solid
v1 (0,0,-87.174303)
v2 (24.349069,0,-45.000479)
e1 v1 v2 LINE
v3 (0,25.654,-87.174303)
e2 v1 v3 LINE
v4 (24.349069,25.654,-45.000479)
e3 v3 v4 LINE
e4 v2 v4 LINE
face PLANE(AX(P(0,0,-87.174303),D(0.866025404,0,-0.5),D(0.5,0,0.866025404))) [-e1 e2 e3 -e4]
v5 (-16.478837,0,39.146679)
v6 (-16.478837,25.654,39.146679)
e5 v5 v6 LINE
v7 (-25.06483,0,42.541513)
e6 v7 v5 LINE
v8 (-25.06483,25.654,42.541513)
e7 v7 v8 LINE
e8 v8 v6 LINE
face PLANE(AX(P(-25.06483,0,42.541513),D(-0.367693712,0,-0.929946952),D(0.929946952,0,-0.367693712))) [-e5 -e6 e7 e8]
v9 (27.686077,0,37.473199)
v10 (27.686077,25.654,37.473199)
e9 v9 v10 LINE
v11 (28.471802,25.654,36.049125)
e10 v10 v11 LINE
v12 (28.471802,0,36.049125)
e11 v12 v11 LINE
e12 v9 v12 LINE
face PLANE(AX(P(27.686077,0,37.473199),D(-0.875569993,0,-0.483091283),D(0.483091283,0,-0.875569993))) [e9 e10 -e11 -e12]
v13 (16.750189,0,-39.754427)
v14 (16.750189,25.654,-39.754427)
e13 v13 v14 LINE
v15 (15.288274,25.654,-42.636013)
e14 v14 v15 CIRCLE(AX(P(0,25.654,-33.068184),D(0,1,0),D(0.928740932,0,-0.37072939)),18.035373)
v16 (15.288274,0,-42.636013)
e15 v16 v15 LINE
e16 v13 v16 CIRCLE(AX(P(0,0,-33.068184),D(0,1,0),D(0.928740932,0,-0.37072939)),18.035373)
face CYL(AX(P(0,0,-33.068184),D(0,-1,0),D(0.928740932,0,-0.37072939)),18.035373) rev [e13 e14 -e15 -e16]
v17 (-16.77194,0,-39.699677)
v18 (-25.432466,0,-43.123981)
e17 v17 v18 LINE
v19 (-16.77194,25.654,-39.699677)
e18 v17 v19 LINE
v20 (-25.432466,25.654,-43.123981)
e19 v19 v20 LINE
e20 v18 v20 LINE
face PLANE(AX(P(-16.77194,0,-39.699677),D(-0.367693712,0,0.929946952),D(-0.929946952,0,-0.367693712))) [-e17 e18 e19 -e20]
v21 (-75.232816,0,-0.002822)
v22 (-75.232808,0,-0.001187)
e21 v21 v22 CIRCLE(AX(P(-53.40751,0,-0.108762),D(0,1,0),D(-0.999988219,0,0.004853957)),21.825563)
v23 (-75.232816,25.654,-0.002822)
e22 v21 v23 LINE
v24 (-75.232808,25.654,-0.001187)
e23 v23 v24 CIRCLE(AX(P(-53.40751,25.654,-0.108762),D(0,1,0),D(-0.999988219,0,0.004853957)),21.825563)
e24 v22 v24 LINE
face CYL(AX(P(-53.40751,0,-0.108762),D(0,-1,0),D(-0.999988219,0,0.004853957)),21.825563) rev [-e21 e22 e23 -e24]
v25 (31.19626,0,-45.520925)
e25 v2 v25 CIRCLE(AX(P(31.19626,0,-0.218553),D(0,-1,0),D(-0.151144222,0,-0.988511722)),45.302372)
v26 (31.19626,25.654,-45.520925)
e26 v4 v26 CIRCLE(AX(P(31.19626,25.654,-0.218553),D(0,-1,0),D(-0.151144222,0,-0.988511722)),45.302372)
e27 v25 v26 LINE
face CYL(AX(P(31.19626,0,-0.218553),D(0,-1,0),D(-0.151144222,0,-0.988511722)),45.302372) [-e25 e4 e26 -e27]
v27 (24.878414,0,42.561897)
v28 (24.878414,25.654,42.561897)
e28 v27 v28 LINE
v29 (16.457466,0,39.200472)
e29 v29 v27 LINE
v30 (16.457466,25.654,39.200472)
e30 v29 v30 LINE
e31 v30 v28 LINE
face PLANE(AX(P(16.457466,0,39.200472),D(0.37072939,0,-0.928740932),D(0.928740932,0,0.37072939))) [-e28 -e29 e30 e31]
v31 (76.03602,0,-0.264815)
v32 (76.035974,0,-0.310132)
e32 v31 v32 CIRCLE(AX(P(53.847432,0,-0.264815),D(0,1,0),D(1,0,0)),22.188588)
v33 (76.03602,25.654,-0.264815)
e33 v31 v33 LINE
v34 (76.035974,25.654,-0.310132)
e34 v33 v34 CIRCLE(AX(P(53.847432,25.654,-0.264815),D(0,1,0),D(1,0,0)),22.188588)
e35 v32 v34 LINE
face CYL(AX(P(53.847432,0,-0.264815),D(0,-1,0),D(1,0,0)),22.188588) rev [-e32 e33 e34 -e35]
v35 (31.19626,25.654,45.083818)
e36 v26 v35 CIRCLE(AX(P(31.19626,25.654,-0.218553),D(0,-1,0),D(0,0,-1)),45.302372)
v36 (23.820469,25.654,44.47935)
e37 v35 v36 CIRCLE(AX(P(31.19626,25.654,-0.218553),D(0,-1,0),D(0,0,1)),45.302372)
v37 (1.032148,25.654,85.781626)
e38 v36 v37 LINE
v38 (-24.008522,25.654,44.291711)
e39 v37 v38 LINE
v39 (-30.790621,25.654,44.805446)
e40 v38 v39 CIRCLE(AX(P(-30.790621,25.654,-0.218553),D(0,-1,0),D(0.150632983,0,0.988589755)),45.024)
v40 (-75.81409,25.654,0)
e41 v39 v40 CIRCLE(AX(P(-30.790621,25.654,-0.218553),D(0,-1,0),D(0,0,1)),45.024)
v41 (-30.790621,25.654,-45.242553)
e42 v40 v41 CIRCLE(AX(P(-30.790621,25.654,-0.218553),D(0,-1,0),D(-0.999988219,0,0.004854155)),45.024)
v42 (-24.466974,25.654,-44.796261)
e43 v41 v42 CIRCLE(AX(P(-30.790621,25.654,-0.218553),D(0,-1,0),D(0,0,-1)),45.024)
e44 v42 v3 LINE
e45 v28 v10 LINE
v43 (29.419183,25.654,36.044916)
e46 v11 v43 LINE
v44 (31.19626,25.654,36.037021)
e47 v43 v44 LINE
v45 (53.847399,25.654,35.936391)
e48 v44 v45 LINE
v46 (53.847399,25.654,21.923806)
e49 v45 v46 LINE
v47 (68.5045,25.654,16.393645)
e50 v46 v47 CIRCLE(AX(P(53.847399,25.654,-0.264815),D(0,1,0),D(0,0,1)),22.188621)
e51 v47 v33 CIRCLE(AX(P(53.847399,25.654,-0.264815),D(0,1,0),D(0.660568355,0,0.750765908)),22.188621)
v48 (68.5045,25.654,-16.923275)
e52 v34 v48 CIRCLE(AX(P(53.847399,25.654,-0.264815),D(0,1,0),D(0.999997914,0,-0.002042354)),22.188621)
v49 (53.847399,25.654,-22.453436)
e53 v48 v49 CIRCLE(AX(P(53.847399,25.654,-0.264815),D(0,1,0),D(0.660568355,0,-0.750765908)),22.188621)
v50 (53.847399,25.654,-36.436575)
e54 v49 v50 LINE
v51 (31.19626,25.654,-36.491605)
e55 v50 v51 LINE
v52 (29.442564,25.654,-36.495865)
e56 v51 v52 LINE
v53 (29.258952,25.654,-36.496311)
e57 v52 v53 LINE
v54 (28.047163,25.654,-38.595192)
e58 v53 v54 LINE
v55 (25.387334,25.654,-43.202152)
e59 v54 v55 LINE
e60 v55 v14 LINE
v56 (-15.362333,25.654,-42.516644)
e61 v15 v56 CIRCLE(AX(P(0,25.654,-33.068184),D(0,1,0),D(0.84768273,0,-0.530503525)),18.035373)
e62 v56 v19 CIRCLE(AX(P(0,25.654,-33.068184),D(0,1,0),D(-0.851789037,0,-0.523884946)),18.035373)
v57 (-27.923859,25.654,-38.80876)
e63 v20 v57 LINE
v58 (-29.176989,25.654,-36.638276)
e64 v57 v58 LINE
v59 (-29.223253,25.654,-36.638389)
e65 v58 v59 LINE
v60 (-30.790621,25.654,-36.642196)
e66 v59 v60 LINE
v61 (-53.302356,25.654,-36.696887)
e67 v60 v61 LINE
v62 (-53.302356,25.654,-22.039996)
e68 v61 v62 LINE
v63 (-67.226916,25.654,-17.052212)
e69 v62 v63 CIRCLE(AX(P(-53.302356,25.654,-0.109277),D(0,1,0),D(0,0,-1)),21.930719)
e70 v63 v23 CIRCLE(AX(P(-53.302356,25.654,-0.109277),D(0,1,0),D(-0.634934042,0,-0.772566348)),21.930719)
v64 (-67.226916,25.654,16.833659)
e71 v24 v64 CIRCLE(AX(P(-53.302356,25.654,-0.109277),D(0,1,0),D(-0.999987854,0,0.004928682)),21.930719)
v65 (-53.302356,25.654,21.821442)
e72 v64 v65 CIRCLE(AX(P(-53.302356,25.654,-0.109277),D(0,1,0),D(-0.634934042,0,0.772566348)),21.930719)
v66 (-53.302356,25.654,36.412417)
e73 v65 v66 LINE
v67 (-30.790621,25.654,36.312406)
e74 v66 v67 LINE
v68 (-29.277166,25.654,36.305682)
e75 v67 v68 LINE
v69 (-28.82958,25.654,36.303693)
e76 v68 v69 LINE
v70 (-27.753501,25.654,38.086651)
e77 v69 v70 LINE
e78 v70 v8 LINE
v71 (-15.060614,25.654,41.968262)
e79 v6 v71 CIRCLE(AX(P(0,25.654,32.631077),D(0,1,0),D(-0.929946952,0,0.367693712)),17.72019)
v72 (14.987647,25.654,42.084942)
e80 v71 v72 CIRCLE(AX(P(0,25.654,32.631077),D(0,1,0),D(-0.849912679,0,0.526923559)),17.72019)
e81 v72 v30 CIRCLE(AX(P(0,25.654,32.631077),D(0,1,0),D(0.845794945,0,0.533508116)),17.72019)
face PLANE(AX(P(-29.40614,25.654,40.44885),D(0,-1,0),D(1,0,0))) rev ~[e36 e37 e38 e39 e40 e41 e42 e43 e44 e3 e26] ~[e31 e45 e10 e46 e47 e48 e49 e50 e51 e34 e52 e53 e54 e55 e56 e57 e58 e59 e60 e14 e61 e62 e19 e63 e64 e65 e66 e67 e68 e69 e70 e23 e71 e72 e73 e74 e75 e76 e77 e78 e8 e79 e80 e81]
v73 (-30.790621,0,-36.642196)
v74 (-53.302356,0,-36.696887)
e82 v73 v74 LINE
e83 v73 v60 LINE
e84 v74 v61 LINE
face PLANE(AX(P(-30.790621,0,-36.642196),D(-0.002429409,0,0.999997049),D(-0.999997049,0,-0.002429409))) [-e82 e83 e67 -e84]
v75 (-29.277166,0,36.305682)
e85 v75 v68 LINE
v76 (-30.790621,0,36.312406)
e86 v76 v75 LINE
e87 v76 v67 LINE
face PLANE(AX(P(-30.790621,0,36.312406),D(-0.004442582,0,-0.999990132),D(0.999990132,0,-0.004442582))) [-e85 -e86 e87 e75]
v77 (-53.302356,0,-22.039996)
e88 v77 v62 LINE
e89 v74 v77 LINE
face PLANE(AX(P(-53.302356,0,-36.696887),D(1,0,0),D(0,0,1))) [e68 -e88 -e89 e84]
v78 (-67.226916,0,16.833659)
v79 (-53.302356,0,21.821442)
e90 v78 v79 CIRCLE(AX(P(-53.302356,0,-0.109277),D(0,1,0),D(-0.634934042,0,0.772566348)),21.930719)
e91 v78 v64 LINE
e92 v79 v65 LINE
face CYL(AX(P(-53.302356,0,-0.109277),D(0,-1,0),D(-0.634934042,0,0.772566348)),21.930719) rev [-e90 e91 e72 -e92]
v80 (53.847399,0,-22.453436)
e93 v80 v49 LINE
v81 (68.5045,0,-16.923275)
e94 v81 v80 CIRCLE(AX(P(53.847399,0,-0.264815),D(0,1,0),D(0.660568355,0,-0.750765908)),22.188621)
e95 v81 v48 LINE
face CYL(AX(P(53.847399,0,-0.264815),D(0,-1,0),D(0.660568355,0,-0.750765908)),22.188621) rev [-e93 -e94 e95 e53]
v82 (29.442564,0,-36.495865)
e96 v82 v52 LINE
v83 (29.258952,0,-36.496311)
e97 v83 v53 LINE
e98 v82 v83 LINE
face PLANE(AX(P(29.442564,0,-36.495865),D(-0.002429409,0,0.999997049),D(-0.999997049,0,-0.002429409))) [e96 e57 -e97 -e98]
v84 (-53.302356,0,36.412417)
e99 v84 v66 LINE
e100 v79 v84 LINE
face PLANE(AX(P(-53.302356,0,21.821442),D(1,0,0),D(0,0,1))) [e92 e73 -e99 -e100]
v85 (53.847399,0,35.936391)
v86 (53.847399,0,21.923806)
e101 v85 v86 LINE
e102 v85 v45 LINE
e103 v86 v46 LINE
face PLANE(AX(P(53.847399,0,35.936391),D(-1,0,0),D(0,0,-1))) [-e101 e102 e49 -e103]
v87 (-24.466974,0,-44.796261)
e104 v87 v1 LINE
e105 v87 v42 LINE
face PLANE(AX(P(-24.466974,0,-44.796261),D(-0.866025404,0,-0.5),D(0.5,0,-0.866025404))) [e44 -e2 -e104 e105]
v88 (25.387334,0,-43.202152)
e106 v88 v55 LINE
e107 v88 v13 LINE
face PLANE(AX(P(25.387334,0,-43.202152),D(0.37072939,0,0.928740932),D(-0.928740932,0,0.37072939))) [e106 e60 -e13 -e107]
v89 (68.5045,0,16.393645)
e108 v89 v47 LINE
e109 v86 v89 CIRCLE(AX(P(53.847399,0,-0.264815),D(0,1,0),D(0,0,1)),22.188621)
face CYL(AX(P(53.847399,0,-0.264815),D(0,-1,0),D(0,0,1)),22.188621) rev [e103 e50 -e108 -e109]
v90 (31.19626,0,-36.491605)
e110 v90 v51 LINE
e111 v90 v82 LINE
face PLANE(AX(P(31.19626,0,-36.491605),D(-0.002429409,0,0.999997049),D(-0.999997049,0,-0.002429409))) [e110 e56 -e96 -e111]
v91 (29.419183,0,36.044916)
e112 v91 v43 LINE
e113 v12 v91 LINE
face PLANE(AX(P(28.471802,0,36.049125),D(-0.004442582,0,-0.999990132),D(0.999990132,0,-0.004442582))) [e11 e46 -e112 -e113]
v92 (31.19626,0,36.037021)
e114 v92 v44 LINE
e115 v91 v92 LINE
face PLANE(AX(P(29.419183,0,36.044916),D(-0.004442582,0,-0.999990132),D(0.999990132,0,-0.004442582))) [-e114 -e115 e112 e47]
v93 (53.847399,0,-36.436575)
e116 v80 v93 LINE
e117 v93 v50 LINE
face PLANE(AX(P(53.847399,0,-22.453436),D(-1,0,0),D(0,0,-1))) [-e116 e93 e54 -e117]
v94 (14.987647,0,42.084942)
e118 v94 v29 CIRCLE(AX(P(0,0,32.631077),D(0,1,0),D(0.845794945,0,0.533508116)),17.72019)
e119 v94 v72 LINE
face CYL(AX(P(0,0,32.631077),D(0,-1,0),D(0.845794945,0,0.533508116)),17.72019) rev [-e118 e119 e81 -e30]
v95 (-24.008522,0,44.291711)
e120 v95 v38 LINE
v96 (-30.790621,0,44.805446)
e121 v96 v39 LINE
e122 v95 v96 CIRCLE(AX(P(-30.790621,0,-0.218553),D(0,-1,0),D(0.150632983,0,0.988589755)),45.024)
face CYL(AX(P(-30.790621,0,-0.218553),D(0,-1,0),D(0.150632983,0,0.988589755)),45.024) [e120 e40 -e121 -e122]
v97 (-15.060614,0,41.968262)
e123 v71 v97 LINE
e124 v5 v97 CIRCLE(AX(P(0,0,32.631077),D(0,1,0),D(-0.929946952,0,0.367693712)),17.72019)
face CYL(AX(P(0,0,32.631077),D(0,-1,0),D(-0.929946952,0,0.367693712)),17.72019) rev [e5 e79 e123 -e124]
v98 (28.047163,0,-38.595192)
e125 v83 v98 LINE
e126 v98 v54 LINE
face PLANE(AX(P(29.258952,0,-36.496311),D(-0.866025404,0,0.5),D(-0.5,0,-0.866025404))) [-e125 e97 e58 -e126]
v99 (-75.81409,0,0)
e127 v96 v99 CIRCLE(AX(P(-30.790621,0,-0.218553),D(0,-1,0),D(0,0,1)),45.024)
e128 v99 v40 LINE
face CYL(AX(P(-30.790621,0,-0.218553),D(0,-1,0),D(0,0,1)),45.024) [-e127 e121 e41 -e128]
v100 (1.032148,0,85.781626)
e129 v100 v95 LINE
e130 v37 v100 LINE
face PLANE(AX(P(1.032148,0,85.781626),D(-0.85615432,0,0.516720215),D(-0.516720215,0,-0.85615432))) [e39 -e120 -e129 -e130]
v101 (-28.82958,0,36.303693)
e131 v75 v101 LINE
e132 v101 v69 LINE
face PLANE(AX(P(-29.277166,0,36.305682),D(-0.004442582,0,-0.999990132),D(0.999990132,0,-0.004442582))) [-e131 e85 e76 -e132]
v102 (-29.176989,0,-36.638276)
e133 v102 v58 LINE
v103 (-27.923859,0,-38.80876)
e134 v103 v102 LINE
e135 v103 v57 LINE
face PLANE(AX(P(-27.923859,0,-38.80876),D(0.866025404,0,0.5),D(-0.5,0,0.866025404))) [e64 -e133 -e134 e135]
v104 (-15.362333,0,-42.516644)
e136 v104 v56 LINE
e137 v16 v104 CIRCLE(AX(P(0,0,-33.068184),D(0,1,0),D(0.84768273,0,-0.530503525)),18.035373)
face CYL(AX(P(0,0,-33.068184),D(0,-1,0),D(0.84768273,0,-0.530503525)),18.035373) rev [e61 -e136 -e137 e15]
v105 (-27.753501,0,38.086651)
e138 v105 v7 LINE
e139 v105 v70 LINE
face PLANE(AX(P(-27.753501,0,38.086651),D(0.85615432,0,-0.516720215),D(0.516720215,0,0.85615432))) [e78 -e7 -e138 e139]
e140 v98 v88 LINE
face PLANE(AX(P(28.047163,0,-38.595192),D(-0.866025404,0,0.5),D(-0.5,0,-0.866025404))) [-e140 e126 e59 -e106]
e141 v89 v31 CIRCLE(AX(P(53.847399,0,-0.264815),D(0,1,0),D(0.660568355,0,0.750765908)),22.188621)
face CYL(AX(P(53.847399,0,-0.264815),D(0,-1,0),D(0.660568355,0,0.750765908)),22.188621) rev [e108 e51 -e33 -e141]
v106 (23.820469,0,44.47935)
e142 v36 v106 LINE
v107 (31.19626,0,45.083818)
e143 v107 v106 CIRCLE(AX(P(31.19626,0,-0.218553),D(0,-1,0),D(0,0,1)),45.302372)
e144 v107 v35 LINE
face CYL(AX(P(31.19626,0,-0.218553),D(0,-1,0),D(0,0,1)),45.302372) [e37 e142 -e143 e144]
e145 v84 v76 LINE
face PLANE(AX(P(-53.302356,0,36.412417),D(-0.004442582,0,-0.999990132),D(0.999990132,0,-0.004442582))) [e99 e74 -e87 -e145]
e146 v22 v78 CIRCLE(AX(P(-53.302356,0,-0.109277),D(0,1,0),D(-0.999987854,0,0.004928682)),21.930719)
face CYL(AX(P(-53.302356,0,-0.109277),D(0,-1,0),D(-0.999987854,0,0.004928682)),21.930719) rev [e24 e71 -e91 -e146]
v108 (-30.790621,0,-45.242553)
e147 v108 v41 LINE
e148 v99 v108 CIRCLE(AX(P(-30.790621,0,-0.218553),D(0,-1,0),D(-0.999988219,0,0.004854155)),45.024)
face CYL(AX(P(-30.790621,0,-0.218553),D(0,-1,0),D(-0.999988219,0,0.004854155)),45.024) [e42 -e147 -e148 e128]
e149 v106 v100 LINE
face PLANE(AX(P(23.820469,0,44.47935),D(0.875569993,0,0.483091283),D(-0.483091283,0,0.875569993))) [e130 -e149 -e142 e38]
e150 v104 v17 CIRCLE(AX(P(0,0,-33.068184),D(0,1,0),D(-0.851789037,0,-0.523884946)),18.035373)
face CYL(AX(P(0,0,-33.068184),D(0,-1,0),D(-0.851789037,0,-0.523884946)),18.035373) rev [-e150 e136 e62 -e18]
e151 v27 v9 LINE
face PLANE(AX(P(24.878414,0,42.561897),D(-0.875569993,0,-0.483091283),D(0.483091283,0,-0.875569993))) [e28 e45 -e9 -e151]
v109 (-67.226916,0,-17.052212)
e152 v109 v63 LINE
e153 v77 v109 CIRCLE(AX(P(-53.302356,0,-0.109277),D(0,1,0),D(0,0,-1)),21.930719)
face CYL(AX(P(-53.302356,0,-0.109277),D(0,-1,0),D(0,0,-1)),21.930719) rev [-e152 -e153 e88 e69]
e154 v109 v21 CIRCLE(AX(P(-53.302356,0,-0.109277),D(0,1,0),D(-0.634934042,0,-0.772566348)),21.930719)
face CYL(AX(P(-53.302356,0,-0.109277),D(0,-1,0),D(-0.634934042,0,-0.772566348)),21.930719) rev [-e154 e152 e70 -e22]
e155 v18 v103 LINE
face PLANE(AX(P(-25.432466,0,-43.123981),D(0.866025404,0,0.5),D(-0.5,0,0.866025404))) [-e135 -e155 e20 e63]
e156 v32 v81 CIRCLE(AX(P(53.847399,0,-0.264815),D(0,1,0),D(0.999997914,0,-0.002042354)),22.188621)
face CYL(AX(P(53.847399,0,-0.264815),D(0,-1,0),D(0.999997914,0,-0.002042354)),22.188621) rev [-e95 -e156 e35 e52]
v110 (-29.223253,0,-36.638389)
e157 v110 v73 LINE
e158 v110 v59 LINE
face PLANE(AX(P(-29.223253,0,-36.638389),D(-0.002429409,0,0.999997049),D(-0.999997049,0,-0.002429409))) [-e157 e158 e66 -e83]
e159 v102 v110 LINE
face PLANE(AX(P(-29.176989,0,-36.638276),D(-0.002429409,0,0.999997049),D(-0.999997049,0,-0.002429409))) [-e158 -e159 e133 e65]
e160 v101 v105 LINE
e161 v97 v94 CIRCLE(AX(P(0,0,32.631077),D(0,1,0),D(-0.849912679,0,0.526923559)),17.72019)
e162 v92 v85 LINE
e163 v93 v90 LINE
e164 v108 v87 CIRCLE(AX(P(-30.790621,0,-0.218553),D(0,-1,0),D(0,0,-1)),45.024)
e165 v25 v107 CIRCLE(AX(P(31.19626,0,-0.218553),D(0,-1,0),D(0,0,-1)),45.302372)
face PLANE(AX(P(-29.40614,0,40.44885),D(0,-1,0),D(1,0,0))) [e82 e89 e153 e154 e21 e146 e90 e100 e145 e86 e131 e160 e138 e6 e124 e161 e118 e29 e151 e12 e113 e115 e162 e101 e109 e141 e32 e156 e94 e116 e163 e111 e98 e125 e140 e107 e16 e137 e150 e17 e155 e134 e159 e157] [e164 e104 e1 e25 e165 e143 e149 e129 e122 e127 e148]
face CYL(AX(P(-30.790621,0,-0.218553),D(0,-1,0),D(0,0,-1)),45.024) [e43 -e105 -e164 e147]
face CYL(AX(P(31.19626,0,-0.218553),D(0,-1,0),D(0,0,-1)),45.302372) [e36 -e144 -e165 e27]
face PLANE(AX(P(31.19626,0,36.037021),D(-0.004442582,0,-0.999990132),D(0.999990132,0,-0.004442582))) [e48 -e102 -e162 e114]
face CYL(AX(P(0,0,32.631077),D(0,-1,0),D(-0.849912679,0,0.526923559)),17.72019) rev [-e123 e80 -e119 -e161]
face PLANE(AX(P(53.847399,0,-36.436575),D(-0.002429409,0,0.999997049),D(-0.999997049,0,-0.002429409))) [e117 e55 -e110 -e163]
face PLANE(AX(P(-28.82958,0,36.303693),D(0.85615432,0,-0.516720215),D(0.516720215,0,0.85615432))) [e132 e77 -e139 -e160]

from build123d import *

# Parameters (mm, degrees)
F1_DEPTH = 25.4
F2_DEPTH = 25.654


with BuildPart() as f1:
    # F0 (on Front) → F1 (new body)
    with BuildSketch(Plane.XZ):
        with BuildLine():
            ThreePointArc((-15.060614174, 41.9682624685), (-0.0688082783, 50.3511332937), (14.987647146, 42.0849420703))
            ThreePointArc((14.987647146, 42.0849420703), (19.3434405932, 43.5057594661), (23.8204686342, 44.4793500101))
            Line((23.8204686342, 44.4793500101), (1.0321482392, 85.7816260454))
            Line((1.0321482392, 85.7816260454), (-24.0085215463, 44.2917114126))
            ThreePointArc((-24.0085215463, 44.2917114126), (-19.4747765312, 43.3602512097), (-15.060614174, 41.9682624685))
        make_face()
    extrude(amount=-F1_DEPTH)

    # F0 (on Front) → F2 (join)
    with BuildSketch(Plane.XZ):
        with BuildLine():
            Line((-28.8295803882, 36.30369346), (-27.7535005612, 38.0866513657))
            Line((-27.7535005612, 38.0866513657), (-30.7906209519, 44.8054462665))
            ThreePointArc((-30.7906209519, 44.8054462665), (-29.6489661187, 40.624103652), (-29.2771657497, 36.3056819144))
            Line((-29.2771657497, 36.3056819144), (-28.8295803882, 36.30369346))
        make_face()
        Polygon((-30.7906209519, 44.8054462665), (-27.7535005612, 38.0866513657), (-25.0648295944, 42.54151339), align=None)
        with BuildLine():
            Line((-53.3023555948, 36.4124168488), (-30.7906209519, 36.3124056299))
            Line((-30.7906209519, 36.3124056299), (-30.7906209519, 44.8054462665))
            ThreePointArc((-30.7906209519, 44.8054462665), (-62.5500321621, 31.6953988364), (-75.8140902377, 0))
            Line((-75.8140902377, 0), (-75.2328084137, -0.0011871857))
            ThreePointArc((-75.2328084137, -0.0011871857), (-73.1076200485, 9.3092127471), (-67.2269157832, 16.8336588954))
            ThreePointArc((-67.2269157832, 16.8336588954), (-60.6978163865, 20.5368755433), (-53.3023555948, 21.8214424558))
            Line((-53.3023555948, 21.8214424558), (-53.3023555948, 36.4124168488))
        make_face()
        with BuildLine():
            Line((-30.7906209519, 44.8054462665), (-30.7906209519, 36.3124056299))
            Line((-30.7906209519, 36.3124056299), (-29.2771657497, 36.3056819144))
            ThreePointArc((-29.2771657497, 36.3056819144), (-29.6489661187, 40.624103652), (-30.7906209519, 44.8054462665))
        make_face()
        with BuildLine():
            Line((-25.0648295944, 42.54151339), (-16.4788366985, 39.1466793172))
            ThreePointArc((-16.4788366985, 39.1466793172), (-15.832705808, 40.5891269445), (-15.060614174, 41.9682624685))
            ThreePointArc((-15.060614174, 41.9682624685), (-19.4747765312, 43.3602512097), (-24.0085215463, 44.2917114126))
            Line((-24.0085215463, 44.2917114126), (-25.0648295944, 42.54151339))
        make_face()
        with BuildLine():
            ThreePointArc((23.8204686342, 44.4793500101), (19.3434405932, 43.5057594661), (14.987647146, 42.0849420703))
            ThreePointArc((14.987647146, 42.0849420703), (15.7885662341, 40.6763432088), (16.4574657961, 39.2004721052))
            Line((16.4574657961, 39.2004721052), (24.8784135948, 42.5618969449))
            Line((24.8784135948, 42.5618969449), (23.8204686342, 44.4793500101))
        make_face()
        with BuildLine():
            ThreePointArc((-15.060614174, 41.9682624685), (-0.0688082783, 50.3511332937), (14.987647146, 42.0849420703))
            ThreePointArc((14.987647146, 42.0849420703), (19.3434405932, 43.5057594661), (23.8204686342, 44.4793500101))
            Line((23.8204686342, 44.4793500101), (1.0321482392, 85.7816260454))
            Line((1.0321482392, 85.7816260454), (-24.0085215463, 44.2917114126))
            ThreePointArc((-24.0085215463, 44.2917114126), (-19.4747765312, 43.3602512097), (-15.060614174, 41.9682624685))
        make_face()
        with BuildLine():
            ThreePointArc((-24.0085215463, 44.2917114126), (-27.3898564846, 44.6768288461), (-30.7906209519, 44.8054462665))
            Line((-30.7906209519, 44.8054462665), (-25.0648295944, 42.54151339))
            Line((-25.0648295944, 42.54151339), (-24.0085215463, 44.2917114126))
        make_face()
        with BuildLine():
            Line((29.4191831059, 36.0449159855), (31.1962604648, 36.0370210954))
            Line((31.1962604648, 36.0370210954), (31.1962604648, 45.083818219))
            ThreePointArc((31.1962604648, 45.083818219), (29.8777965479, 40.6488917918), (29.4191831059, 36.0449159855))
        make_face()
        with BuildLine():
            Line((31.1962604648, 45.083818219), (31.1962604648, 36.0370210954))
            Line((31.1962604648, 36.0370210954), (53.8473990671, 35.9363905568))
            Line((53.8473990671, 35.9363905568), (53.8473990671, 21.9238056105))
            ThreePointArc((53.8473990671, 21.9238056105), (61.6802350926, 20.4952804957), (68.5044998261, 16.3936448398))
            ThreePointArc((68.5044998261, 16.3936448398), (74.0656549864, 8.8761377727), (76.0360198852, -0.2648152075))
            ThreePointArc((76.0360198852, -0.2648152075), (76.036008316, -0.2874737281), (76.0359736084, -0.310132225))
            Line((76.0359736084, -0.310132225), (76.4985376694, -0.3110769465))
            ThreePointArc((76.4985376694, -0.3110769465), (63.2625699929, 31.7823320468), (31.1962604648, 45.083818219))
        make_face()
        Polygon((24.8784135948, 42.5618969449), (27.686077002, 37.4731985658), (31.1962604648, 45.083818219), align=None)
        with BuildLine():
            Line((31.1962604648, 45.083818219), (27.686077002, 37.4731985658))
            Line((27.686077002, 37.4731985658), (28.4718024235, 36.0491248436))
            Line((28.4718024235, 36.0491248436), (29.4191831059, 36.0449159855))
            ThreePointArc((29.4191831059, 36.0449159855), (29.8777965479, 40.6488917918), (31.1962604648, 45.083818219))
        make_face()
        Polygon((-25.4324655009, -43.1239806736), (-27.9238592306, -38.808760152), (-30.7906209519, -45.2425532036), align=None)
        with BuildLine():
            Line((-30.7906209519, -45.2425532036), (-27.9238592306, -38.808760152))
            Line((-27.9238592306, -38.808760152), (-29.1769886883, -36.6382762629))
            Line((-29.1769886883, -36.6382762629), (-29.2232528573, -36.6383886578))
            ThreePointArc((-29.2232528573, -36.6383886578), (-29.6130237377, -41.012227686), (-30.7906209519, -45.2425532036))
        make_face()
        with BuildLine():
            ThreePointArc((31.1962604648, 45.083818219), (27.4960007799, 44.9324482787), (23.8204686342, 44.4793500101))
            Line((23.8204686342, 44.4793500101), (24.8784135948, 42.5618969449))
            Line((24.8784135948, 42.5618969449), (31.1962604648, 45.083818219))
        make_face()
        with BuildLine():
            Line((-75.2328164085, -0.0028216264), (-75.8140902377, 0))
            ThreePointArc((-75.8140902377, 0), (-62.704573257, -31.9779646787), (-30.7906209519, -45.2425532036))
            Line((-30.7906209519, -45.2425532036), (-30.7906209519, -36.6421964468))
            Line((-30.7906209519, -36.6421964468), (-53.3023555948, -36.6968868137))
            Line((-53.3023555948, -36.6968868137), (-53.3023555948, -22.0399959243))
            ThreePointArc((-53.3023555948, -22.0399959243), (-60.6978163865, -20.7554290119), (-67.2269157832, -17.052212364))
            ThreePointArc((-67.2269157832, -17.052212364), (-73.1534528918, -9.4307777023), (-75.2328164085, -0.0028216264))
        make_face()
        with BuildLine():
            Line((-75.2328084137, -0.0011871857), (-75.8140902377, 0))
            Line((-75.8140902377, 0), (-75.2328164085, -0.0028216264))
            ThreePointArc((-75.2328164085, -0.0028216264), (-75.2328124264, -0.002004406), (-75.2328084137, -0.0011871857))
        make_face()
        with BuildLine():
            Line((-25.4324655009, -43.1239806736), (-30.7906209519, -45.2425532036))
            ThreePointArc((-30.7906209519, -45.2425532036), (-27.6209328908, -45.1308416505), (-24.4669738087, -44.7962613387))
            Line((-24.4669738087, -44.7962613387), (-25.4324655009, -43.1239806736))
        make_face()
        with BuildLine():
            Line((-30.7906209519, -36.6421964468), (-30.7906209519, -45.2425532036))
            ThreePointArc((-30.7906209519, -45.2425532036), (-29.6130237377, -41.012227686), (-29.2232528573, -36.6383886578))
            Line((-29.2232528573, -36.6383886578), (-30.7906209519, -36.6421964468))
        make_face()
        with BuildLine():
            Line((-16.7719402399, -39.6996770897), (-25.4324655009, -43.1239806736))
            Line((-25.4324655009, -43.1239806736), (-24.4669738087, -44.7962613387))
            ThreePointArc((-24.4669738087, -44.7962613387), (-19.855090202, -43.8943444673), (-15.3623330745, -42.5166442684))
            ThreePointArc((-15.3623330745, -42.5166442684), (-16.1287540245, -41.1389939394), (-16.7719402399, -39.6996770897))
        make_face()
        with BuildLine():
            ThreePointArc((24.3490687404, -45.0004789074), (19.7574141393, -44.0529882803), (15.2882742932, -42.6360128042))
            ThreePointArc((15.2882742932, -42.6360128042), (-0.070238078, -51.1034201303), (-15.3623330745, -42.5166442684))
            ThreePointArc((-15.3623330745, -42.5166442684), (-19.855090202, -43.8943444673), (-24.4669738087, -44.7962613387))
            Line((-24.4669738087, -44.7962613387), (0, -87.1743030828))
            Line((0, -87.1743030828), (24.3490687404, -45.0004789074))
        make_face()
        with BuildLine():
            ThreePointArc((16.7501892204, -39.754426672), (16.0838947627, -41.2280252172), (15.2882742932, -42.6360128042))
            ThreePointArc((15.2882742932, -42.6360128042), (19.7574141393, -44.0529882803), (24.3490687404, -45.0004789074))
            Line((24.3490687404, -45.0004789074), (25.387333514, -43.2021515679))
            Line((25.387333514, -43.2021515679), (16.7501892204, -39.754426672))
        make_face()
        with BuildLine():
            Line((29.2589523384, -36.4963110564), (28.047162827, -38.5951920583))
            Line((28.047162827, -38.5951920583), (31.1962604648, -45.5209251562))
            ThreePointArc((31.1962604648, -45.5209251562), (29.8905818384, -41.0917228659), (29.4425640224, -36.4958649872))
            Line((29.4425640224, -36.4958649872), (29.2589523384, -36.4963110564))
        make_face()
        Polygon((31.1962604648, -45.5209251562), (28.047162827, -38.5951920583), (25.387333514, -43.2021515679), align=None)
        with BuildLine():
            ThreePointArc((68.5044998261, -16.9232752549), (61.6802350926, -21.0249109107), (53.8473990671, -22.4534360256))
            Line((53.8473990671, -22.4534360256), (53.8473990671, -36.436575492))
            Line((53.8473990671, -36.436575492), (31.1962604648, -36.4916045291))
            Line((31.1962604648, -36.4916045291), (31.1962604648, -45.5209251562))
            ThreePointArc((31.1962604648, -45.5209251562), (63.1971459801, -32.2848629967), (76.4985376694, -0.3110769465))
            Line((76.4985376694, -0.3110769465), (76.0359736084, -0.310132225))
            ThreePointArc((76.0359736084, -0.310132225), (74.056309909, -9.4264098499), (68.5044998261, -16.9232752549))
        make_face()
        with BuildLine():
            Line((25.387333514, -43.2021515679), (24.3490687404, -45.0004789074))
            ThreePointArc((24.3490687404, -45.0004789074), (27.7627892326, -45.3906262107), (31.1962604648, -45.5209251562))
            Line((31.1962604648, -45.5209251562), (25.387333514, -43.2021515679))
        make_face()
        with BuildLine():
            ThreePointArc((29.4425640224, -36.4958649872), (29.8905818384, -41.0917228659), (31.1962604648, -45.5209251562))
            Line((31.1962604648, -45.5209251562), (31.1962604648, -36.4916045291))
            Line((31.1962604648, -36.4916045291), (29.4425640224, -36.4958649872))
        make_face()
    extrude(amount=-F2_DEPTH)


solid = f1.part
